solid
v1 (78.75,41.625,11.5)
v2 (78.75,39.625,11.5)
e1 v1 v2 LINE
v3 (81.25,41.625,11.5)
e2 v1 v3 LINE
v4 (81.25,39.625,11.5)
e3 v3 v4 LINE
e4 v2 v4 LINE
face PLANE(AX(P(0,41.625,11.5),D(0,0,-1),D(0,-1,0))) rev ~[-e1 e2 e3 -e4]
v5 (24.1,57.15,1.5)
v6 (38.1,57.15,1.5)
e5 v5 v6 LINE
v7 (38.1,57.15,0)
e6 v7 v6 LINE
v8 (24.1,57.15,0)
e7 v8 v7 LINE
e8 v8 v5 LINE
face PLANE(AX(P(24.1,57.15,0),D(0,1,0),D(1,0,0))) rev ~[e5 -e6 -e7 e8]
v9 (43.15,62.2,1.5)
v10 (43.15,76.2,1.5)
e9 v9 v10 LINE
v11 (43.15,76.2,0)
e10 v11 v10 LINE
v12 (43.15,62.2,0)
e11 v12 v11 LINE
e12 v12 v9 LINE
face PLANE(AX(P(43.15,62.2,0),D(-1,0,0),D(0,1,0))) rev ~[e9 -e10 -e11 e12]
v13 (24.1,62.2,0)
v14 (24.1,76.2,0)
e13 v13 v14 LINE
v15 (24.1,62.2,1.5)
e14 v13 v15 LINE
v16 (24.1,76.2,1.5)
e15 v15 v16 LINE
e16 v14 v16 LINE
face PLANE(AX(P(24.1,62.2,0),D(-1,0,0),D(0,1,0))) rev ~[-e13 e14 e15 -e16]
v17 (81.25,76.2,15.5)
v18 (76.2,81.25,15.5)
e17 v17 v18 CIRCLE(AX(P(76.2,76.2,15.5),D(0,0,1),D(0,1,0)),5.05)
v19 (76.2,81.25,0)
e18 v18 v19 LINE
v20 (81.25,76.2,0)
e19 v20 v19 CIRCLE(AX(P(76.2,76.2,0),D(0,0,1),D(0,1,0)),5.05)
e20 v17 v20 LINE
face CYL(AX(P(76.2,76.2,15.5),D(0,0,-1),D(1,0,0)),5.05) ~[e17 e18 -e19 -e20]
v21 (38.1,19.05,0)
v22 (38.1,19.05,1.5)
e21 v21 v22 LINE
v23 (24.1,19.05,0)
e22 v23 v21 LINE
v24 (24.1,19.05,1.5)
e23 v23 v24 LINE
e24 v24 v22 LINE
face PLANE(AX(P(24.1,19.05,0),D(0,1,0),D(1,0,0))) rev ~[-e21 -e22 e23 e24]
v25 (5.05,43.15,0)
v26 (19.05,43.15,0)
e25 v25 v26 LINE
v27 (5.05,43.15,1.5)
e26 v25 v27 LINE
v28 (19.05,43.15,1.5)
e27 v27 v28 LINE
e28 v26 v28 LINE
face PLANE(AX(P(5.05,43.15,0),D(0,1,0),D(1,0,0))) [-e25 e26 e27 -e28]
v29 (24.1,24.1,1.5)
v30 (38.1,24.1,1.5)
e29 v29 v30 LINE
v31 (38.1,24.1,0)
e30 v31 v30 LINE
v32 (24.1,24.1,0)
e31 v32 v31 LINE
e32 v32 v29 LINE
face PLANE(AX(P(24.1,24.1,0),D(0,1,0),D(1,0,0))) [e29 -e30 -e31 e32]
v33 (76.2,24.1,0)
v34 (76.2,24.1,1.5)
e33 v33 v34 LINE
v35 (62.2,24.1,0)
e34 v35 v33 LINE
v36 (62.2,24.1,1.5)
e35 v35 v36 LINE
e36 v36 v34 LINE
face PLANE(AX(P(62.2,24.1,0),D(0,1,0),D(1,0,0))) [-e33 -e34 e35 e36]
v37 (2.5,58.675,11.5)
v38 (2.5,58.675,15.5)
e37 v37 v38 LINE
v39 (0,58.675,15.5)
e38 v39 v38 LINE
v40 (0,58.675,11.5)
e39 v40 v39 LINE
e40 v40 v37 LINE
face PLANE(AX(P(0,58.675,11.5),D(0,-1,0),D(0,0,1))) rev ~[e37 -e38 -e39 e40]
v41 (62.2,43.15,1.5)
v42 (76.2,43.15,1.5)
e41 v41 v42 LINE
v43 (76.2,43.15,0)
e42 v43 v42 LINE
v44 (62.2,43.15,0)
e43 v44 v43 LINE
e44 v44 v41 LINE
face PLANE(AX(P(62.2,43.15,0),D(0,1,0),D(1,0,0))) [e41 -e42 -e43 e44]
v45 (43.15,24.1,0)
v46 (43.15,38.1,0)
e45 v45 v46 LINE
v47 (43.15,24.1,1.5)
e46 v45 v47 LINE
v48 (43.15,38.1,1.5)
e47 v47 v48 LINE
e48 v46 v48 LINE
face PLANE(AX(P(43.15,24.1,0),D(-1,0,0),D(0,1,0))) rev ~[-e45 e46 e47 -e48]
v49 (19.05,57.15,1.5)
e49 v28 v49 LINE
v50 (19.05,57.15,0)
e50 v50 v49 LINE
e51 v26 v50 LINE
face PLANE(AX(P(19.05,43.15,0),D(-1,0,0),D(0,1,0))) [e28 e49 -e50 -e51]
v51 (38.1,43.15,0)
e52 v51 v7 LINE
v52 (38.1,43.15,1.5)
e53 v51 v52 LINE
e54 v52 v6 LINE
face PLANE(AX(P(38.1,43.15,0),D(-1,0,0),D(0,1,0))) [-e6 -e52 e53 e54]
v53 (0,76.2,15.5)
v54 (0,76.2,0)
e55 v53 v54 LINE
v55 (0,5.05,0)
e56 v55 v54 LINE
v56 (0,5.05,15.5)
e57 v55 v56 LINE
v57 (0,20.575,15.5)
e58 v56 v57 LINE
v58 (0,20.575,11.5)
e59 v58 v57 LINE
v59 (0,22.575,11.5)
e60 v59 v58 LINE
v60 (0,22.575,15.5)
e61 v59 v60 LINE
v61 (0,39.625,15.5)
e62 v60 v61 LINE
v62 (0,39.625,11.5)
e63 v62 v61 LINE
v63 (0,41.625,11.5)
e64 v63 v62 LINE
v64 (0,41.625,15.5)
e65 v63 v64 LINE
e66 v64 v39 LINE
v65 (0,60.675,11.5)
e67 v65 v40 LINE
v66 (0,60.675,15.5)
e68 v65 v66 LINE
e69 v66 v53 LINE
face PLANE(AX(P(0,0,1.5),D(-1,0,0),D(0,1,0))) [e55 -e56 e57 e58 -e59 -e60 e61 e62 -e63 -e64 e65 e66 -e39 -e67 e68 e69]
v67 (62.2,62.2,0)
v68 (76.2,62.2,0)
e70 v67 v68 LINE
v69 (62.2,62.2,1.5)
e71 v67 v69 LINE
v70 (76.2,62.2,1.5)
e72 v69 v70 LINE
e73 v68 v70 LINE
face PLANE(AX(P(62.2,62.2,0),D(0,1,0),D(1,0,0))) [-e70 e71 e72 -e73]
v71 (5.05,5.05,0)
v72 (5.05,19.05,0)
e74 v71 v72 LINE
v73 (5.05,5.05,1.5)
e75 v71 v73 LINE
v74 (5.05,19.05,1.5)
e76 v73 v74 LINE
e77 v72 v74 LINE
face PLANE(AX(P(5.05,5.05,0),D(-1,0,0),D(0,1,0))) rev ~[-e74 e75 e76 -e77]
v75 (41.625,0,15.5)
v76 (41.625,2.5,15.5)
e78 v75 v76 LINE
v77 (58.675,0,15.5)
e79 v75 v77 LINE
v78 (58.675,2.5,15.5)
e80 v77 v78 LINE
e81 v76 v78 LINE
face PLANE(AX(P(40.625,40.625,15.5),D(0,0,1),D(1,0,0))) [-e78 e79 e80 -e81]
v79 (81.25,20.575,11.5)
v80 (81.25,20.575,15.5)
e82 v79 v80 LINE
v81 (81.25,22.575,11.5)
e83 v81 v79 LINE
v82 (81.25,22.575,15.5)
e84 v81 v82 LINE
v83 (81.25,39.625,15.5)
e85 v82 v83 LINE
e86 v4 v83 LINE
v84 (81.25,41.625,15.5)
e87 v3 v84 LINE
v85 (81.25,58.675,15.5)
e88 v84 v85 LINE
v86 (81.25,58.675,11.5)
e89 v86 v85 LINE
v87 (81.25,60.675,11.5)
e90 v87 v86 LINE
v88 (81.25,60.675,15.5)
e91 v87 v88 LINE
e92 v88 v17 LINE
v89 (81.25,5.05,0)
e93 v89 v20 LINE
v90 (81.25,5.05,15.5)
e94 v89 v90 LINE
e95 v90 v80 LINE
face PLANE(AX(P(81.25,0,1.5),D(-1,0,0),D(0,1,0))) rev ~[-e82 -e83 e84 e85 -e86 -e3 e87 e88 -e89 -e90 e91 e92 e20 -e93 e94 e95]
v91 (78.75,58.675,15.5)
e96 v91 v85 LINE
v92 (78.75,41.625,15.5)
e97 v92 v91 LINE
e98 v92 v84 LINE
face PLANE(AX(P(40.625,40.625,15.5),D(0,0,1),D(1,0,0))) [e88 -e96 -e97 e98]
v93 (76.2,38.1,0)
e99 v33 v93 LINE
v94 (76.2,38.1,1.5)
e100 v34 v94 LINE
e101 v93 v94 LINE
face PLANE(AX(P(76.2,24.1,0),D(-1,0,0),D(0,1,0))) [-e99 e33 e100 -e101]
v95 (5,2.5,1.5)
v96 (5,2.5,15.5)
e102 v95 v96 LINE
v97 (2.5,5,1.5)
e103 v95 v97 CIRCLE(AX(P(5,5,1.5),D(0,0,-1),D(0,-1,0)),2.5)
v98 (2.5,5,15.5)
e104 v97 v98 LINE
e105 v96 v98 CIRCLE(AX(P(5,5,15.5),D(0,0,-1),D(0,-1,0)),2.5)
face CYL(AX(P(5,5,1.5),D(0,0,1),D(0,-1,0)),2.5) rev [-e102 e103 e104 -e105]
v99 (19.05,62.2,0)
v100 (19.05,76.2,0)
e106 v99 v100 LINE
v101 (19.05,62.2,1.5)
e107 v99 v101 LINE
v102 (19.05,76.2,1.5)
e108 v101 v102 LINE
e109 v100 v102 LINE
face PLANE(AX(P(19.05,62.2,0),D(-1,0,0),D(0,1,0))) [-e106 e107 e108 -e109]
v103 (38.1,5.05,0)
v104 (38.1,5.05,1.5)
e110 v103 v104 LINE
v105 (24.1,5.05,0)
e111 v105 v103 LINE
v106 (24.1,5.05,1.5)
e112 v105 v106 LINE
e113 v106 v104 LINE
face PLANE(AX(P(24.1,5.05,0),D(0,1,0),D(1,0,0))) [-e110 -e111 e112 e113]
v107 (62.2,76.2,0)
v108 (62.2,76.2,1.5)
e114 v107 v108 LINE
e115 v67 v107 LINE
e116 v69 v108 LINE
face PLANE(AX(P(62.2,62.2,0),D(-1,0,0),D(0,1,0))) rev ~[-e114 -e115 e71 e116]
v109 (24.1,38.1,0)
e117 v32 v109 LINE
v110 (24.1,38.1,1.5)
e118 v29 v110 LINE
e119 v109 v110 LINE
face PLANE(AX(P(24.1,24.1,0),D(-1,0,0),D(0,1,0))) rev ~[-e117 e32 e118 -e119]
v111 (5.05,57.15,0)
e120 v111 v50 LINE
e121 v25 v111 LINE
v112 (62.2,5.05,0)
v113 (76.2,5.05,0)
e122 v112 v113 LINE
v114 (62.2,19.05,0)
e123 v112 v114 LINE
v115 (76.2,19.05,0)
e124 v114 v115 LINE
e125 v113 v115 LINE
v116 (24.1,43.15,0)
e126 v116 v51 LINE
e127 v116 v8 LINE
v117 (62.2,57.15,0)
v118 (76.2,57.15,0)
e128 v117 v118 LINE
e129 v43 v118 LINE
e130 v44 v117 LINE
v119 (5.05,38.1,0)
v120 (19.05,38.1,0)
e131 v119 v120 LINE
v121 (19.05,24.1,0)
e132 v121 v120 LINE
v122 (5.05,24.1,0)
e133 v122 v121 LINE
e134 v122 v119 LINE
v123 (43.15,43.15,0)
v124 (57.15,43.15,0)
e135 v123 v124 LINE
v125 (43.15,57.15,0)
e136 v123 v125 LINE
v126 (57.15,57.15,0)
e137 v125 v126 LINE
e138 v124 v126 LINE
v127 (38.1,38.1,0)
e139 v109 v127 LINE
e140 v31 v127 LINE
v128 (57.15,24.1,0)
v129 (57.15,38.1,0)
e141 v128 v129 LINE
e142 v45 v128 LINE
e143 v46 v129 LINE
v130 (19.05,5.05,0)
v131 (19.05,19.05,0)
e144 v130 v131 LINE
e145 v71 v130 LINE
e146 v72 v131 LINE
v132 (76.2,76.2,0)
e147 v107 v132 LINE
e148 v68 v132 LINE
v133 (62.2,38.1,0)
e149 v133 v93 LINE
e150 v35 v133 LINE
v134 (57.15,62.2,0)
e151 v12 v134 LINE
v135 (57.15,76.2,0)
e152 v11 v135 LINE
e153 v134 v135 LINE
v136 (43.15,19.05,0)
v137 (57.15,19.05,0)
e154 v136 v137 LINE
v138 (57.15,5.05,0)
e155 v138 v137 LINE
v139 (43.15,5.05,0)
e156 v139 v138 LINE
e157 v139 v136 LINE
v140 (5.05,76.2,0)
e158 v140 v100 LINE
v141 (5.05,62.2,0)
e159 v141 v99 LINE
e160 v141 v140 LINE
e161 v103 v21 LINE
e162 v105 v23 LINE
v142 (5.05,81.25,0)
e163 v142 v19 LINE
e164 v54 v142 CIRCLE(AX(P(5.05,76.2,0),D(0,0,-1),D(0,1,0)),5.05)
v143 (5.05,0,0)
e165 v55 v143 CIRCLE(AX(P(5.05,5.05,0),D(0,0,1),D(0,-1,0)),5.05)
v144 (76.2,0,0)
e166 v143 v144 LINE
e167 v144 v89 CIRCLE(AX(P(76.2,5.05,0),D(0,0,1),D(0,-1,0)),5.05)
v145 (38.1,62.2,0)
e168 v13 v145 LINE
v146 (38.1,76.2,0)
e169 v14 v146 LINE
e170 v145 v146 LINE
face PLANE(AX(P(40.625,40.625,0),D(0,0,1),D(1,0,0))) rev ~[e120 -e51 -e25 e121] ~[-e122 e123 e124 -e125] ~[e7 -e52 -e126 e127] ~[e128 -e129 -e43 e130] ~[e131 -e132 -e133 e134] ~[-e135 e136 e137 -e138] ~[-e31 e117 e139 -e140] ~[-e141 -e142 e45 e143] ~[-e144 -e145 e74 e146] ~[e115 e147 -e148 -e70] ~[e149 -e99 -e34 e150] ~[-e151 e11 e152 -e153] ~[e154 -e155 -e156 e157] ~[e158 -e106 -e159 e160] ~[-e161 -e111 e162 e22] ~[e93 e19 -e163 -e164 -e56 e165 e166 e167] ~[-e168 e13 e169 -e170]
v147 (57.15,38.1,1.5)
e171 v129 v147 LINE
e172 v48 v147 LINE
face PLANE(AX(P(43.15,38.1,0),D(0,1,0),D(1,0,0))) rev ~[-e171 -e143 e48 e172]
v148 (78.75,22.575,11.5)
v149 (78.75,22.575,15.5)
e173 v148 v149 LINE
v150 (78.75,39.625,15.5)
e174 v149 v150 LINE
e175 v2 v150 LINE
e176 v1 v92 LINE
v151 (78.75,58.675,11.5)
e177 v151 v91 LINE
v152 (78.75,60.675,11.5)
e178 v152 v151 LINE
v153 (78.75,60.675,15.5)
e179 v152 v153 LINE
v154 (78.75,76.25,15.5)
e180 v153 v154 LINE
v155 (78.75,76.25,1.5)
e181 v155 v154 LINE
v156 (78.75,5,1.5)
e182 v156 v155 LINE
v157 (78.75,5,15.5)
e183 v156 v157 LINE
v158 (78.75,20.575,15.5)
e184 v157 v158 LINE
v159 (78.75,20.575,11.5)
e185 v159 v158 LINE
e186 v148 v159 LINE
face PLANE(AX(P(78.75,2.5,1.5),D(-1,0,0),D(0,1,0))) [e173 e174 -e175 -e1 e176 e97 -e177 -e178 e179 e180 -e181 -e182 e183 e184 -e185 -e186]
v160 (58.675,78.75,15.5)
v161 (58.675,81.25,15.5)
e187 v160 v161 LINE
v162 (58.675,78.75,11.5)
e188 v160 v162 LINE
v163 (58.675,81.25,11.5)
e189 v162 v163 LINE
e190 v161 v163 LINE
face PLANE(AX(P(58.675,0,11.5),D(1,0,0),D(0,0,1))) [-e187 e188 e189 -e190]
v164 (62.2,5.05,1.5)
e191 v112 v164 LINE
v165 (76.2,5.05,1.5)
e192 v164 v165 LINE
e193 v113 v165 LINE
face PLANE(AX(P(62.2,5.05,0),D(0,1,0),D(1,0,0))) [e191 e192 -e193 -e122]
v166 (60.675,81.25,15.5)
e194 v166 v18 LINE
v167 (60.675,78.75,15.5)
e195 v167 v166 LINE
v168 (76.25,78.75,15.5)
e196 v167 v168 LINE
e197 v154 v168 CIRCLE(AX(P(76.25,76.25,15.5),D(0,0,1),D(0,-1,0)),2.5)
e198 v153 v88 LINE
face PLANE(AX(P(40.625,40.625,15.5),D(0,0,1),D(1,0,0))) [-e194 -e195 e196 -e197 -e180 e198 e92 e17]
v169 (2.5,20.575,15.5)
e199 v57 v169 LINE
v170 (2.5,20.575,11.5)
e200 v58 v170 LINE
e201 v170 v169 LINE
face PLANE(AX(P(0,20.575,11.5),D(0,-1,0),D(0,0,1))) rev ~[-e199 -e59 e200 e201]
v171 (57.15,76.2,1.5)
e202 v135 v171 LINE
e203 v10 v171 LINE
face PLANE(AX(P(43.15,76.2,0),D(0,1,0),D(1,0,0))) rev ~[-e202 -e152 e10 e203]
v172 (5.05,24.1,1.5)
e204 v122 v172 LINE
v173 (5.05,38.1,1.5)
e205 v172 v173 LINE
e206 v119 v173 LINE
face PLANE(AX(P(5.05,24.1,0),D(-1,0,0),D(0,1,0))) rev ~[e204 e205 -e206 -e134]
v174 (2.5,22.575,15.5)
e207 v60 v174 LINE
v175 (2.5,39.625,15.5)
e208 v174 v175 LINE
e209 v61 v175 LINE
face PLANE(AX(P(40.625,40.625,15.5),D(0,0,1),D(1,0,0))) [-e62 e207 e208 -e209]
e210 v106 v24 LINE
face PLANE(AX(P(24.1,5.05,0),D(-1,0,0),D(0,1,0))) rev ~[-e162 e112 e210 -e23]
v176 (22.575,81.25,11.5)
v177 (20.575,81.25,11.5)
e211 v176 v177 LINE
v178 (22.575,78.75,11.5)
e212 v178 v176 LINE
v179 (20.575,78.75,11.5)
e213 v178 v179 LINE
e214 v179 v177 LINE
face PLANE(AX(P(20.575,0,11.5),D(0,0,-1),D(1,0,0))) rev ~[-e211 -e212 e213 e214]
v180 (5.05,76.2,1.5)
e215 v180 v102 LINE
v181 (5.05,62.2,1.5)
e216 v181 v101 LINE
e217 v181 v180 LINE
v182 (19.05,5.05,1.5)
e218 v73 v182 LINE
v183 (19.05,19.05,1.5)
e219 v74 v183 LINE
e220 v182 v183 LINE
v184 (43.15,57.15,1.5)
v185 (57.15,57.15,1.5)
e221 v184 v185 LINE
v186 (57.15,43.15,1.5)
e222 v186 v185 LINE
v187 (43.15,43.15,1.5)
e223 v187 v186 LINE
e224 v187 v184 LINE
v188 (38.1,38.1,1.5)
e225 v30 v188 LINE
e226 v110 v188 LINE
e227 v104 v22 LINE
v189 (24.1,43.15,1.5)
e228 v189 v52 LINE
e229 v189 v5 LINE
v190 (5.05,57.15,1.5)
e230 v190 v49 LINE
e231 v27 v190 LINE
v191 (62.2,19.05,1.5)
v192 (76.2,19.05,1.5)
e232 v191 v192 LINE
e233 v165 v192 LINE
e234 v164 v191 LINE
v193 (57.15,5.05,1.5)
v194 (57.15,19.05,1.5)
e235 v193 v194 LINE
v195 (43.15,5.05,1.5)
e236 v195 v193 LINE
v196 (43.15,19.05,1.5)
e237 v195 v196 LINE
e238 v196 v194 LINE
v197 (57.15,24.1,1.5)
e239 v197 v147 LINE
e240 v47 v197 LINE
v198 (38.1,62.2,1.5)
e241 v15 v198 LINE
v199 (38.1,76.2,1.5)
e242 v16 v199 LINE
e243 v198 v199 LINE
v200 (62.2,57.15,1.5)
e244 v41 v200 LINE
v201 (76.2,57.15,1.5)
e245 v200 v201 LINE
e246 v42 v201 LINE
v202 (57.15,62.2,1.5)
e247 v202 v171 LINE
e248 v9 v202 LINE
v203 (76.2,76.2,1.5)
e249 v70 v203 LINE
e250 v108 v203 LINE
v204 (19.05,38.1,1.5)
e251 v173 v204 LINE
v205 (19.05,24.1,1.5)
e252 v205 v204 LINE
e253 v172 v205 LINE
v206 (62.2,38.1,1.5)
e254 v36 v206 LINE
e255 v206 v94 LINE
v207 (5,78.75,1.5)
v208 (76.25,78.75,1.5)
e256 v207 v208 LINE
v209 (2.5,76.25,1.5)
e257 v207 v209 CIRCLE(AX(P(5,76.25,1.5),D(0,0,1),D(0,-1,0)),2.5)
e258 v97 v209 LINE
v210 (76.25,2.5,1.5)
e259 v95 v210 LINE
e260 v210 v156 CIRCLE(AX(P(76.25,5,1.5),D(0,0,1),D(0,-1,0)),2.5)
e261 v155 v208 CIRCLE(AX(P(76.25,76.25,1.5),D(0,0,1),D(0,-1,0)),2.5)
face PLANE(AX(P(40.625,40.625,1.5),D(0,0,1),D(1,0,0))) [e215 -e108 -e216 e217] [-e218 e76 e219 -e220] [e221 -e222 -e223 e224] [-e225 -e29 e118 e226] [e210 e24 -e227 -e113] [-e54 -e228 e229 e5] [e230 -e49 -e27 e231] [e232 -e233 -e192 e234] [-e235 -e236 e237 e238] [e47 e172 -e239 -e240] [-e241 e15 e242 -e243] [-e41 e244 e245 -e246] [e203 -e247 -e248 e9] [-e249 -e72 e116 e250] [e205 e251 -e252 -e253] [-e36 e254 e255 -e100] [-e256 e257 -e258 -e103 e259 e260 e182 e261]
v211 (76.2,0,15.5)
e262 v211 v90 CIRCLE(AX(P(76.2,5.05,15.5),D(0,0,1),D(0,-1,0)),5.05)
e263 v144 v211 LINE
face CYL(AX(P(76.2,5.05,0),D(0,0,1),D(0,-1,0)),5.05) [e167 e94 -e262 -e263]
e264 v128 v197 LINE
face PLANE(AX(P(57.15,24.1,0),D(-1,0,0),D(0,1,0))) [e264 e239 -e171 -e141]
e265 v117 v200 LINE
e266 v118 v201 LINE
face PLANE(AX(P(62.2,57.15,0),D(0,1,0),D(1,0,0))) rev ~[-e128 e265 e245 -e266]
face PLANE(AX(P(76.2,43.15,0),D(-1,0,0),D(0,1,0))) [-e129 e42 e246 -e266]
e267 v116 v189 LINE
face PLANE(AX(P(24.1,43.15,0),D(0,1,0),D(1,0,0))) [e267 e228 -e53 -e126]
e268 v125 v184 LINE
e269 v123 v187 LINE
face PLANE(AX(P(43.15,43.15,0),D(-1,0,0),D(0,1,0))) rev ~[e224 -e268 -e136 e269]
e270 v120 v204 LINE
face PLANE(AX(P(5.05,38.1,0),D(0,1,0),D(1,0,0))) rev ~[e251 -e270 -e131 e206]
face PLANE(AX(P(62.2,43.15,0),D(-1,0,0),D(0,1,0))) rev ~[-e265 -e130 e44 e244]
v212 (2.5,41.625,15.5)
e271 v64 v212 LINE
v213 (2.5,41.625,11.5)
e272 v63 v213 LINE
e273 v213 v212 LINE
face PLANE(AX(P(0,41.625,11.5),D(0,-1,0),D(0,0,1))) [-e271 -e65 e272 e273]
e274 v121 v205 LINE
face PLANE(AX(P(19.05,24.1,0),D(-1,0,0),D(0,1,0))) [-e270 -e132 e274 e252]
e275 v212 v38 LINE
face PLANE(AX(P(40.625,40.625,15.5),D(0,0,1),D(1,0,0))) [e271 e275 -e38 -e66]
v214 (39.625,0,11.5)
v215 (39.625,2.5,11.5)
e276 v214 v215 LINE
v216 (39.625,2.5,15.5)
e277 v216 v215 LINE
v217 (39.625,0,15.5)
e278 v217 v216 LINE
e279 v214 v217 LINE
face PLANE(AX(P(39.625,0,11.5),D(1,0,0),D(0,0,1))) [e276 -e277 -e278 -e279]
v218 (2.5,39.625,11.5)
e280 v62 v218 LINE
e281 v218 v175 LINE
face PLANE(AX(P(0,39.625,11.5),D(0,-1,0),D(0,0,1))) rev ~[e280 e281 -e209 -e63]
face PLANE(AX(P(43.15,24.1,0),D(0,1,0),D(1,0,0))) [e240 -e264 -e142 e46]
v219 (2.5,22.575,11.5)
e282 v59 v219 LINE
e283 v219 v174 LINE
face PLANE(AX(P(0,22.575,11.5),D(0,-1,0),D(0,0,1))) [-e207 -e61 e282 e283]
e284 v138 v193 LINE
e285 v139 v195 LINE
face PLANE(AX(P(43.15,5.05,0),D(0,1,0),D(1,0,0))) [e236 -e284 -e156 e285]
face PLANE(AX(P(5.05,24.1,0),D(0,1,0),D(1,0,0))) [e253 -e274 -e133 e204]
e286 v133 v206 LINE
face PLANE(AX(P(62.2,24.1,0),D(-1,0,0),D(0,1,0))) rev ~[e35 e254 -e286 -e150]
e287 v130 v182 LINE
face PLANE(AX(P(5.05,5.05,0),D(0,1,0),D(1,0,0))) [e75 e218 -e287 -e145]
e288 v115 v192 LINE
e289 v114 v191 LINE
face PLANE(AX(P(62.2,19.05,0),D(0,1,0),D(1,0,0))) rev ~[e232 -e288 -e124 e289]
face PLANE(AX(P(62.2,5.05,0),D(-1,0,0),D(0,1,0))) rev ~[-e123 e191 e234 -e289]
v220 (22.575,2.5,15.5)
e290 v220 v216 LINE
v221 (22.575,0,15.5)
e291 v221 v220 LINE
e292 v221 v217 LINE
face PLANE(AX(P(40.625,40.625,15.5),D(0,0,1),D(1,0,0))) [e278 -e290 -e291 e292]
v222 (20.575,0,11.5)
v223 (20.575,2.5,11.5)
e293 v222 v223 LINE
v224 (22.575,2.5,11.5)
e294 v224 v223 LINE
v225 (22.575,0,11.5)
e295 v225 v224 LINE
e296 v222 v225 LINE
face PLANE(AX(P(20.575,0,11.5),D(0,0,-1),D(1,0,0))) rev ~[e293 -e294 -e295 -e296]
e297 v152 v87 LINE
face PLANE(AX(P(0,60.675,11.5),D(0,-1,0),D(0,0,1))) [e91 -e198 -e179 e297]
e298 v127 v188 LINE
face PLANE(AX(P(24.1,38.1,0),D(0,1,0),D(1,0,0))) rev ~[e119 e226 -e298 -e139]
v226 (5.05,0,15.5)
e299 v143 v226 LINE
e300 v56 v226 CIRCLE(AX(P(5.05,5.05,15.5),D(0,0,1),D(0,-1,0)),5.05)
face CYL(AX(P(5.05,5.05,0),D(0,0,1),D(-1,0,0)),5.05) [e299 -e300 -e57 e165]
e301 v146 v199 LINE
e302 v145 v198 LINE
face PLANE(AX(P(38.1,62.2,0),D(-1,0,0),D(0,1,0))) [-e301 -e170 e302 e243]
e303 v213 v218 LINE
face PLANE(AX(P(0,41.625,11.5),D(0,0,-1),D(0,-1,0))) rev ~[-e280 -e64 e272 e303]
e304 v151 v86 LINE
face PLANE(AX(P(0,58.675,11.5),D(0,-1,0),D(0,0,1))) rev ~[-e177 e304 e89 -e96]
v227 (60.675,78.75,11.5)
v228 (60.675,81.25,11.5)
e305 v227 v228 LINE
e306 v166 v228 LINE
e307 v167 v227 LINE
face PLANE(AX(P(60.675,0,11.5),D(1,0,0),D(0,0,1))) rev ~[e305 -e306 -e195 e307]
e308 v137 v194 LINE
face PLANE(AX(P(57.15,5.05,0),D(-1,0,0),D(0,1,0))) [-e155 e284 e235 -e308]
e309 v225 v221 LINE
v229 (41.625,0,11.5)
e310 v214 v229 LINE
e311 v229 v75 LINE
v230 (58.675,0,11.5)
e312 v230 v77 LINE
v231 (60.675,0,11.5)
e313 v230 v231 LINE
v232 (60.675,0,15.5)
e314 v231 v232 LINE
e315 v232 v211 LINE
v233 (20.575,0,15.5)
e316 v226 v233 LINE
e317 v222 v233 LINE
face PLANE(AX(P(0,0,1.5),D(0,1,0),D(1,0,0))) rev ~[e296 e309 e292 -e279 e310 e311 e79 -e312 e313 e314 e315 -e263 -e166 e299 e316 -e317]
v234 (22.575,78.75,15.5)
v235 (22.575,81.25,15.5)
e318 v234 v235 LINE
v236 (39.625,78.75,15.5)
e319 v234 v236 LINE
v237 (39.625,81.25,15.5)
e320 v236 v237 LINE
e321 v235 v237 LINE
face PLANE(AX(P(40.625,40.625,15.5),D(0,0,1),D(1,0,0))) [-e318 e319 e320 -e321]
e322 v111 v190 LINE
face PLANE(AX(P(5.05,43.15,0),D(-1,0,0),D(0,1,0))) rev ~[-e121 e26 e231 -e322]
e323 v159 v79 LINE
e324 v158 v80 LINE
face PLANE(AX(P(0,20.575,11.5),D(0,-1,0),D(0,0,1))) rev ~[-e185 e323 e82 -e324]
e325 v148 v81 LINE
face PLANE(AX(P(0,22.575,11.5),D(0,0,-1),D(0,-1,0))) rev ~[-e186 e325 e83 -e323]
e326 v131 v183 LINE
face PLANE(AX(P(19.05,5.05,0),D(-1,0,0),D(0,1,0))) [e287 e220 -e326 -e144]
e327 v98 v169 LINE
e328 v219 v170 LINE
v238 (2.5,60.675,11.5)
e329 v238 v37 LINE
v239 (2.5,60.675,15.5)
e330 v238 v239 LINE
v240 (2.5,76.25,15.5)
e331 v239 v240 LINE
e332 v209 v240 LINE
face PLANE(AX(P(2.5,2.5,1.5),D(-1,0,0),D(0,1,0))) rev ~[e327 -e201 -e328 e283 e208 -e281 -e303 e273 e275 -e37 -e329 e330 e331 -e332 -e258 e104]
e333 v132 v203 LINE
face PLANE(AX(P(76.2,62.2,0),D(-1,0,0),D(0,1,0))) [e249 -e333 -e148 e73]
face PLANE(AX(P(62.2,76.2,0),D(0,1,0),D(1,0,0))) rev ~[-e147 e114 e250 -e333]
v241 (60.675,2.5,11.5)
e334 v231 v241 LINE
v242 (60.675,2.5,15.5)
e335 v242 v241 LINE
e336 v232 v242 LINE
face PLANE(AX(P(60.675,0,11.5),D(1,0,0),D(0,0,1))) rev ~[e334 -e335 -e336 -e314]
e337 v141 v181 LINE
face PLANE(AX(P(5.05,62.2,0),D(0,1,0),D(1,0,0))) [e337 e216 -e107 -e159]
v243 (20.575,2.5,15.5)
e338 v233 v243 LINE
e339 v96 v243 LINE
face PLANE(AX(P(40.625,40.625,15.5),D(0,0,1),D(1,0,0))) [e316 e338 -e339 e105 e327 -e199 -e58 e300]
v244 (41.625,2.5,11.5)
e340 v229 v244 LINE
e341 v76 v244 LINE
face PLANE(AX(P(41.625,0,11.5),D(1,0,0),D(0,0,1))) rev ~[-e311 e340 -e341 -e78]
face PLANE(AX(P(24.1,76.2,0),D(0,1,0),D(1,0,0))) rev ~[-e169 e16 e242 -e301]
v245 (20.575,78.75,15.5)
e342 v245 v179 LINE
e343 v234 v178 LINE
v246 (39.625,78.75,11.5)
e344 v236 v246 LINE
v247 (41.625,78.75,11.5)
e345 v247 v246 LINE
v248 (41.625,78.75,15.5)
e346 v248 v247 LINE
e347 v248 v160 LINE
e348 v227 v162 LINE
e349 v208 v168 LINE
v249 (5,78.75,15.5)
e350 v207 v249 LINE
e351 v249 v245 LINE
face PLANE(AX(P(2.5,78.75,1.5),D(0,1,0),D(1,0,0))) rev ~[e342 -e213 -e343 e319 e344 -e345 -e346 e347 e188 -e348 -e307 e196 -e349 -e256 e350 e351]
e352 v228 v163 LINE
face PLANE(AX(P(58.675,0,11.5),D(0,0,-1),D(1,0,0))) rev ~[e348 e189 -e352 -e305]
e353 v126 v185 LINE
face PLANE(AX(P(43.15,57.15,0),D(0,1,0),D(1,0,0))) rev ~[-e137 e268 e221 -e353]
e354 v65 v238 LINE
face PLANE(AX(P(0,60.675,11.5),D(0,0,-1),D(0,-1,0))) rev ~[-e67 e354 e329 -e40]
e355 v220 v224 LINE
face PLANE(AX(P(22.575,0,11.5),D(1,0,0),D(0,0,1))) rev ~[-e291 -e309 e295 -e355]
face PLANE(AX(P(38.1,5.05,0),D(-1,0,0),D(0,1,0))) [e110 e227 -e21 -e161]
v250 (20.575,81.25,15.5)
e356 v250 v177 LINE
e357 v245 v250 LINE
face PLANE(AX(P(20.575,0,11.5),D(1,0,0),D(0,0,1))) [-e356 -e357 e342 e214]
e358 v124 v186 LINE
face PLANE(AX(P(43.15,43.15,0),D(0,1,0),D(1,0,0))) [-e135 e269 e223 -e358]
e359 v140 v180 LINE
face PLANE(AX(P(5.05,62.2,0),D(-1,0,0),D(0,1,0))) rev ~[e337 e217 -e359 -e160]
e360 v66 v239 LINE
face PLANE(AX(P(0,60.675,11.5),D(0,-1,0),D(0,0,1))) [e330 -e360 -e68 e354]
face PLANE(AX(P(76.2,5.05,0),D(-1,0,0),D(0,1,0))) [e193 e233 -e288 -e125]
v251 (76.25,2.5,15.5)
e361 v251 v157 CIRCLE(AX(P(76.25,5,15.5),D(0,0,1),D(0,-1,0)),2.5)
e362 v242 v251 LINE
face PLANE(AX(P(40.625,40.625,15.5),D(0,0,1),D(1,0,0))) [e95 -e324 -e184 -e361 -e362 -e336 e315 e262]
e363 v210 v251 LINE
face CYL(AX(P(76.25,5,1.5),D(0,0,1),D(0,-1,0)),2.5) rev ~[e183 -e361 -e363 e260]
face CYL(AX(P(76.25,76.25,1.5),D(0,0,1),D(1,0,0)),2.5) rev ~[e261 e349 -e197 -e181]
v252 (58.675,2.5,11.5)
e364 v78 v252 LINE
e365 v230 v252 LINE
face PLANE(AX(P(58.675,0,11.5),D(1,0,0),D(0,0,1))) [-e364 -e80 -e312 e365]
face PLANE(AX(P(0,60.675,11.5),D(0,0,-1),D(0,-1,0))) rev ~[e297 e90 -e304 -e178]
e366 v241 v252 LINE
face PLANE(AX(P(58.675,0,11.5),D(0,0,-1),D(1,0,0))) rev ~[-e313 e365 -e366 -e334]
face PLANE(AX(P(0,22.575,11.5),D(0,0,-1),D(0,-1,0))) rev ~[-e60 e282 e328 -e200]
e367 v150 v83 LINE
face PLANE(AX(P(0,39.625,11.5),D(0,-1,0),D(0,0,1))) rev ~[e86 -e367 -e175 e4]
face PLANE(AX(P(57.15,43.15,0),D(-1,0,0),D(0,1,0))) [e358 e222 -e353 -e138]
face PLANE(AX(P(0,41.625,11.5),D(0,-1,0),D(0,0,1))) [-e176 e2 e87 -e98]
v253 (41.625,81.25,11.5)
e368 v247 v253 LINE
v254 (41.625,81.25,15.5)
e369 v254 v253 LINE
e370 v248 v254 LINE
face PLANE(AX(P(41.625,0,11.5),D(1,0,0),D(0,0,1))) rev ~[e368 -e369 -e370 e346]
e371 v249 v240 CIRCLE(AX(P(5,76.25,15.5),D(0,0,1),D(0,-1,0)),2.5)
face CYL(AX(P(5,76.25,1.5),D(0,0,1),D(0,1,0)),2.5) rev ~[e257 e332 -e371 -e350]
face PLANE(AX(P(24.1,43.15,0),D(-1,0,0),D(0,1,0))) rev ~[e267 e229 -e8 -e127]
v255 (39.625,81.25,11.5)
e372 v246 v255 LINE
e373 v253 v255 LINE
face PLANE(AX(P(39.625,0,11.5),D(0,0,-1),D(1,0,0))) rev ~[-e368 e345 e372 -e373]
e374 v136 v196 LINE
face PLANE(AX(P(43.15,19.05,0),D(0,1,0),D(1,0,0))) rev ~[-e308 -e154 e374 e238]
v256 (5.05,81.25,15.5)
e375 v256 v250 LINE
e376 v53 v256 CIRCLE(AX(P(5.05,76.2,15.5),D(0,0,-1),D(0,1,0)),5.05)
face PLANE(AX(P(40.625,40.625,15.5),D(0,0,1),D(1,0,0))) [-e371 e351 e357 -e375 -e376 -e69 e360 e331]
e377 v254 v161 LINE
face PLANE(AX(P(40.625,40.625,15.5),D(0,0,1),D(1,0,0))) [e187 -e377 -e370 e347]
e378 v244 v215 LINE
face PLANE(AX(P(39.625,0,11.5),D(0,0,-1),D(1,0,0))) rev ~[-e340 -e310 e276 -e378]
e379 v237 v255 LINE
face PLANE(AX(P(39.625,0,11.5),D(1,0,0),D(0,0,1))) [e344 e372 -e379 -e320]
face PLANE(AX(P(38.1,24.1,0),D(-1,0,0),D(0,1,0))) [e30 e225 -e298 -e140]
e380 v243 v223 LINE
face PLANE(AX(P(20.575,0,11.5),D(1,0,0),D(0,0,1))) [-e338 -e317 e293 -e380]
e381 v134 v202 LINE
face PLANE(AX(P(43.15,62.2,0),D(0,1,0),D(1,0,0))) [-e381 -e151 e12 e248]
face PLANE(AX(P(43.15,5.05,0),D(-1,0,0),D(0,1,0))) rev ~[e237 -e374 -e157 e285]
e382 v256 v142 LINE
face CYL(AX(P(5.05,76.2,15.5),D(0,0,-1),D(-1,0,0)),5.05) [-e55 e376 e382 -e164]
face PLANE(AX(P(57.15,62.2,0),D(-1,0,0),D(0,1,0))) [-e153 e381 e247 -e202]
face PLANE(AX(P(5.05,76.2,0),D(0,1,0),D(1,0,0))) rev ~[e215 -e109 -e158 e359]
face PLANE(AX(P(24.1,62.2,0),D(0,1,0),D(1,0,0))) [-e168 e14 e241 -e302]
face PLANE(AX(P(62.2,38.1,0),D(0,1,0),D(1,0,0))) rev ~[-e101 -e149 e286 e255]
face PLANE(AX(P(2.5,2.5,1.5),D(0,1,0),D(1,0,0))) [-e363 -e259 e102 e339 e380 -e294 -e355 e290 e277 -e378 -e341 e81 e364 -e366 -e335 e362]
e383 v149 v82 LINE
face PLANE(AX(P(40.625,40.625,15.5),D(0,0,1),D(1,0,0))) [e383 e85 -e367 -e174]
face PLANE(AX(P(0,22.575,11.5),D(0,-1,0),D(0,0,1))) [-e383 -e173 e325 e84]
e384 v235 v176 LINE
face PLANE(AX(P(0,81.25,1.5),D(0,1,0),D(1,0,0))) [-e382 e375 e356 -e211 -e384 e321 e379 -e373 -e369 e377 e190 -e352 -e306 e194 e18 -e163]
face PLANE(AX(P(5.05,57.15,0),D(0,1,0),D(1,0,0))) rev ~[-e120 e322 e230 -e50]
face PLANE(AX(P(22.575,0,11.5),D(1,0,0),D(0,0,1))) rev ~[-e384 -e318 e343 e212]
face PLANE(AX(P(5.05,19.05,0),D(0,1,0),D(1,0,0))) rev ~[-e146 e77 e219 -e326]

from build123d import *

# Parameters (mm, degrees)
SKETCH_W        = 81.25
SKETCH_H        = 81.25
SKETCH_W_2      = 14
SKETCH_H_2      = 14
PAD_DEPTH       = 1.5
SKETCH001_W     = 81.25
SKETCH001_H     = 81.25
SKETCH001_W_2   = 76.25
SKETCH001_H_2   = 76.25
PAD001_DEPTH    = 14
FILLET_R        = 5.05
FILLET001_R     = 2.5
SKETCH002_W     = 2
SKETCH002_H     = 4
POCKET_DEPTH    = 85
SKETCH003_W     = 2
SKETCH003_H     = 4
POCKET001_DEPTH = 86


with BuildPart() as part:
    # Sketch → Pad (new body)
    with BuildSketch(Plane.XY):
        with Locations((40.625, 40.625)):
            Rectangle(SKETCH_W, SKETCH_H)
        with Locations((12.05, 69.2)):
            Rectangle(SKETCH_W_2, SKETCH_H_2, mode=Mode.SUBTRACT)
        with Locations((31.1, 69.2)):
            Rectangle(SKETCH_W_2, SKETCH_H_2, mode=Mode.SUBTRACT)
        with Locations((50.15, 69.2)):
            Rectangle(SKETCH_W_2, SKETCH_H_2, mode=Mode.SUBTRACT)
        with Locations((69.2, 69.2)):
            Rectangle(SKETCH_W_2, SKETCH_H_2, mode=Mode.SUBTRACT)
        with Locations((12.05, 50.15)):
            Rectangle(SKETCH_W_2, SKETCH_H_2, mode=Mode.SUBTRACT)
        with Locations((31.1, 50.15)):
            Rectangle(SKETCH_W_2, SKETCH_H_2, mode=Mode.SUBTRACT)
        with Locations((50.15, 50.15)):
            Rectangle(SKETCH_W_2, SKETCH_H_2, mode=Mode.SUBTRACT)
        with Locations((69.2, 50.15)):
            Rectangle(SKETCH_W_2, SKETCH_H_2, mode=Mode.SUBTRACT)
        with Locations((12.05, 31.1)):
            Rectangle(SKETCH_W_2, SKETCH_H_2, mode=Mode.SUBTRACT)
        with Locations((31.1, 31.1)):
            Rectangle(SKETCH_W_2, SKETCH_H_2, mode=Mode.SUBTRACT)
        with Locations((50.15, 31.1)):
            Rectangle(SKETCH_W_2, SKETCH_H_2, mode=Mode.SUBTRACT)
        with Locations((69.2, 31.1)):
            Rectangle(SKETCH_W_2, SKETCH_H_2, mode=Mode.SUBTRACT)
        with Locations((12.05, 12.05)):
            Rectangle(SKETCH_W_2, SKETCH_H_2, mode=Mode.SUBTRACT)
        with Locations((31.1, 12.05)):
            Rectangle(SKETCH_W_2, SKETCH_H_2, mode=Mode.SUBTRACT)
        with Locations((50.15, 12.05)):
            Rectangle(SKETCH_W_2, SKETCH_H_2, mode=Mode.SUBTRACT)
        with Locations((69.2, 12.05)):
            Rectangle(SKETCH_W_2, SKETCH_H_2, mode=Mode.SUBTRACT)
    extrude(amount=PAD_DEPTH)

    # Sketch001 (on Face70 of Pad) → Pad001 (join)
    with BuildSketch(Plane.XY.offset(1.5)):
        with Locations((40.625, 40.625)):
            Rectangle(SKETCH001_W, SKETCH001_H)
        with Locations((40.625, 40.625)):
            Rectangle(SKETCH001_W_2, SKETCH001_H_2, mode=Mode.SUBTRACT)
    extrude(amount=PAD001_DEPTH)

    # Fillet
    fillet_edges = [part.edges().sort_by_distance(p)[0] for p in [
        (0, 0, 8.5),
        (81.25, 0, 8.5),
        (81.25, 81.25, 8.5),
        (0, 81.25, 8.5),
    ]]
    fillet(fillet_edges, radius=FILLET_R)

    # Fillet001
    fillet001_edges = [part.edges().sort_by_distance(p)[0] for p in [
        (2.5, 78.75, 8.5),
        (2.5, 2.5, 8.5),
        (78.75, 2.5, 8.5),
        (78.75, 78.75, 8.5),
    ]]
    fillet(fillet001_edges, radius=FILLET001_R)

    # Sketch002 (on Face10 of Fillet001) → Pocket (cut)
    with BuildSketch(Plane.XZ):
        with Locations((40.625, 13.5)):
            Rectangle(SKETCH002_W, SKETCH002_H)
        with Locations((21.575, 13.5)):
            Rectangle(SKETCH002_W, SKETCH002_H)
        with Locations((59.675, 13.5)):
            Rectangle(SKETCH002_W, SKETCH002_H)
    extrude(amount=-POCKET_DEPTH, mode=Mode.SUBTRACT)

    # Sketch003 (on Face9 of Pocket) → Pocket001 (cut)
    with BuildSketch(Plane(origin=(0, 0, 0), x_dir=(0, -1, 0), z_dir=(-1, 0, 0))):
        with Locations((-40.625, 13.5)):
            Rectangle(SKETCH003_W, SKETCH003_H)
        with Locations((-21.575, 13.5)):
            Rectangle(SKETCH003_W, SKETCH003_H)
        with Locations((-59.675, 13.5)):
            Rectangle(SKETCH003_W, SKETCH003_H)
    extrude(amount=-POCKET001_DEPTH, mode=Mode.SUBTRACT)


solid = part.part
